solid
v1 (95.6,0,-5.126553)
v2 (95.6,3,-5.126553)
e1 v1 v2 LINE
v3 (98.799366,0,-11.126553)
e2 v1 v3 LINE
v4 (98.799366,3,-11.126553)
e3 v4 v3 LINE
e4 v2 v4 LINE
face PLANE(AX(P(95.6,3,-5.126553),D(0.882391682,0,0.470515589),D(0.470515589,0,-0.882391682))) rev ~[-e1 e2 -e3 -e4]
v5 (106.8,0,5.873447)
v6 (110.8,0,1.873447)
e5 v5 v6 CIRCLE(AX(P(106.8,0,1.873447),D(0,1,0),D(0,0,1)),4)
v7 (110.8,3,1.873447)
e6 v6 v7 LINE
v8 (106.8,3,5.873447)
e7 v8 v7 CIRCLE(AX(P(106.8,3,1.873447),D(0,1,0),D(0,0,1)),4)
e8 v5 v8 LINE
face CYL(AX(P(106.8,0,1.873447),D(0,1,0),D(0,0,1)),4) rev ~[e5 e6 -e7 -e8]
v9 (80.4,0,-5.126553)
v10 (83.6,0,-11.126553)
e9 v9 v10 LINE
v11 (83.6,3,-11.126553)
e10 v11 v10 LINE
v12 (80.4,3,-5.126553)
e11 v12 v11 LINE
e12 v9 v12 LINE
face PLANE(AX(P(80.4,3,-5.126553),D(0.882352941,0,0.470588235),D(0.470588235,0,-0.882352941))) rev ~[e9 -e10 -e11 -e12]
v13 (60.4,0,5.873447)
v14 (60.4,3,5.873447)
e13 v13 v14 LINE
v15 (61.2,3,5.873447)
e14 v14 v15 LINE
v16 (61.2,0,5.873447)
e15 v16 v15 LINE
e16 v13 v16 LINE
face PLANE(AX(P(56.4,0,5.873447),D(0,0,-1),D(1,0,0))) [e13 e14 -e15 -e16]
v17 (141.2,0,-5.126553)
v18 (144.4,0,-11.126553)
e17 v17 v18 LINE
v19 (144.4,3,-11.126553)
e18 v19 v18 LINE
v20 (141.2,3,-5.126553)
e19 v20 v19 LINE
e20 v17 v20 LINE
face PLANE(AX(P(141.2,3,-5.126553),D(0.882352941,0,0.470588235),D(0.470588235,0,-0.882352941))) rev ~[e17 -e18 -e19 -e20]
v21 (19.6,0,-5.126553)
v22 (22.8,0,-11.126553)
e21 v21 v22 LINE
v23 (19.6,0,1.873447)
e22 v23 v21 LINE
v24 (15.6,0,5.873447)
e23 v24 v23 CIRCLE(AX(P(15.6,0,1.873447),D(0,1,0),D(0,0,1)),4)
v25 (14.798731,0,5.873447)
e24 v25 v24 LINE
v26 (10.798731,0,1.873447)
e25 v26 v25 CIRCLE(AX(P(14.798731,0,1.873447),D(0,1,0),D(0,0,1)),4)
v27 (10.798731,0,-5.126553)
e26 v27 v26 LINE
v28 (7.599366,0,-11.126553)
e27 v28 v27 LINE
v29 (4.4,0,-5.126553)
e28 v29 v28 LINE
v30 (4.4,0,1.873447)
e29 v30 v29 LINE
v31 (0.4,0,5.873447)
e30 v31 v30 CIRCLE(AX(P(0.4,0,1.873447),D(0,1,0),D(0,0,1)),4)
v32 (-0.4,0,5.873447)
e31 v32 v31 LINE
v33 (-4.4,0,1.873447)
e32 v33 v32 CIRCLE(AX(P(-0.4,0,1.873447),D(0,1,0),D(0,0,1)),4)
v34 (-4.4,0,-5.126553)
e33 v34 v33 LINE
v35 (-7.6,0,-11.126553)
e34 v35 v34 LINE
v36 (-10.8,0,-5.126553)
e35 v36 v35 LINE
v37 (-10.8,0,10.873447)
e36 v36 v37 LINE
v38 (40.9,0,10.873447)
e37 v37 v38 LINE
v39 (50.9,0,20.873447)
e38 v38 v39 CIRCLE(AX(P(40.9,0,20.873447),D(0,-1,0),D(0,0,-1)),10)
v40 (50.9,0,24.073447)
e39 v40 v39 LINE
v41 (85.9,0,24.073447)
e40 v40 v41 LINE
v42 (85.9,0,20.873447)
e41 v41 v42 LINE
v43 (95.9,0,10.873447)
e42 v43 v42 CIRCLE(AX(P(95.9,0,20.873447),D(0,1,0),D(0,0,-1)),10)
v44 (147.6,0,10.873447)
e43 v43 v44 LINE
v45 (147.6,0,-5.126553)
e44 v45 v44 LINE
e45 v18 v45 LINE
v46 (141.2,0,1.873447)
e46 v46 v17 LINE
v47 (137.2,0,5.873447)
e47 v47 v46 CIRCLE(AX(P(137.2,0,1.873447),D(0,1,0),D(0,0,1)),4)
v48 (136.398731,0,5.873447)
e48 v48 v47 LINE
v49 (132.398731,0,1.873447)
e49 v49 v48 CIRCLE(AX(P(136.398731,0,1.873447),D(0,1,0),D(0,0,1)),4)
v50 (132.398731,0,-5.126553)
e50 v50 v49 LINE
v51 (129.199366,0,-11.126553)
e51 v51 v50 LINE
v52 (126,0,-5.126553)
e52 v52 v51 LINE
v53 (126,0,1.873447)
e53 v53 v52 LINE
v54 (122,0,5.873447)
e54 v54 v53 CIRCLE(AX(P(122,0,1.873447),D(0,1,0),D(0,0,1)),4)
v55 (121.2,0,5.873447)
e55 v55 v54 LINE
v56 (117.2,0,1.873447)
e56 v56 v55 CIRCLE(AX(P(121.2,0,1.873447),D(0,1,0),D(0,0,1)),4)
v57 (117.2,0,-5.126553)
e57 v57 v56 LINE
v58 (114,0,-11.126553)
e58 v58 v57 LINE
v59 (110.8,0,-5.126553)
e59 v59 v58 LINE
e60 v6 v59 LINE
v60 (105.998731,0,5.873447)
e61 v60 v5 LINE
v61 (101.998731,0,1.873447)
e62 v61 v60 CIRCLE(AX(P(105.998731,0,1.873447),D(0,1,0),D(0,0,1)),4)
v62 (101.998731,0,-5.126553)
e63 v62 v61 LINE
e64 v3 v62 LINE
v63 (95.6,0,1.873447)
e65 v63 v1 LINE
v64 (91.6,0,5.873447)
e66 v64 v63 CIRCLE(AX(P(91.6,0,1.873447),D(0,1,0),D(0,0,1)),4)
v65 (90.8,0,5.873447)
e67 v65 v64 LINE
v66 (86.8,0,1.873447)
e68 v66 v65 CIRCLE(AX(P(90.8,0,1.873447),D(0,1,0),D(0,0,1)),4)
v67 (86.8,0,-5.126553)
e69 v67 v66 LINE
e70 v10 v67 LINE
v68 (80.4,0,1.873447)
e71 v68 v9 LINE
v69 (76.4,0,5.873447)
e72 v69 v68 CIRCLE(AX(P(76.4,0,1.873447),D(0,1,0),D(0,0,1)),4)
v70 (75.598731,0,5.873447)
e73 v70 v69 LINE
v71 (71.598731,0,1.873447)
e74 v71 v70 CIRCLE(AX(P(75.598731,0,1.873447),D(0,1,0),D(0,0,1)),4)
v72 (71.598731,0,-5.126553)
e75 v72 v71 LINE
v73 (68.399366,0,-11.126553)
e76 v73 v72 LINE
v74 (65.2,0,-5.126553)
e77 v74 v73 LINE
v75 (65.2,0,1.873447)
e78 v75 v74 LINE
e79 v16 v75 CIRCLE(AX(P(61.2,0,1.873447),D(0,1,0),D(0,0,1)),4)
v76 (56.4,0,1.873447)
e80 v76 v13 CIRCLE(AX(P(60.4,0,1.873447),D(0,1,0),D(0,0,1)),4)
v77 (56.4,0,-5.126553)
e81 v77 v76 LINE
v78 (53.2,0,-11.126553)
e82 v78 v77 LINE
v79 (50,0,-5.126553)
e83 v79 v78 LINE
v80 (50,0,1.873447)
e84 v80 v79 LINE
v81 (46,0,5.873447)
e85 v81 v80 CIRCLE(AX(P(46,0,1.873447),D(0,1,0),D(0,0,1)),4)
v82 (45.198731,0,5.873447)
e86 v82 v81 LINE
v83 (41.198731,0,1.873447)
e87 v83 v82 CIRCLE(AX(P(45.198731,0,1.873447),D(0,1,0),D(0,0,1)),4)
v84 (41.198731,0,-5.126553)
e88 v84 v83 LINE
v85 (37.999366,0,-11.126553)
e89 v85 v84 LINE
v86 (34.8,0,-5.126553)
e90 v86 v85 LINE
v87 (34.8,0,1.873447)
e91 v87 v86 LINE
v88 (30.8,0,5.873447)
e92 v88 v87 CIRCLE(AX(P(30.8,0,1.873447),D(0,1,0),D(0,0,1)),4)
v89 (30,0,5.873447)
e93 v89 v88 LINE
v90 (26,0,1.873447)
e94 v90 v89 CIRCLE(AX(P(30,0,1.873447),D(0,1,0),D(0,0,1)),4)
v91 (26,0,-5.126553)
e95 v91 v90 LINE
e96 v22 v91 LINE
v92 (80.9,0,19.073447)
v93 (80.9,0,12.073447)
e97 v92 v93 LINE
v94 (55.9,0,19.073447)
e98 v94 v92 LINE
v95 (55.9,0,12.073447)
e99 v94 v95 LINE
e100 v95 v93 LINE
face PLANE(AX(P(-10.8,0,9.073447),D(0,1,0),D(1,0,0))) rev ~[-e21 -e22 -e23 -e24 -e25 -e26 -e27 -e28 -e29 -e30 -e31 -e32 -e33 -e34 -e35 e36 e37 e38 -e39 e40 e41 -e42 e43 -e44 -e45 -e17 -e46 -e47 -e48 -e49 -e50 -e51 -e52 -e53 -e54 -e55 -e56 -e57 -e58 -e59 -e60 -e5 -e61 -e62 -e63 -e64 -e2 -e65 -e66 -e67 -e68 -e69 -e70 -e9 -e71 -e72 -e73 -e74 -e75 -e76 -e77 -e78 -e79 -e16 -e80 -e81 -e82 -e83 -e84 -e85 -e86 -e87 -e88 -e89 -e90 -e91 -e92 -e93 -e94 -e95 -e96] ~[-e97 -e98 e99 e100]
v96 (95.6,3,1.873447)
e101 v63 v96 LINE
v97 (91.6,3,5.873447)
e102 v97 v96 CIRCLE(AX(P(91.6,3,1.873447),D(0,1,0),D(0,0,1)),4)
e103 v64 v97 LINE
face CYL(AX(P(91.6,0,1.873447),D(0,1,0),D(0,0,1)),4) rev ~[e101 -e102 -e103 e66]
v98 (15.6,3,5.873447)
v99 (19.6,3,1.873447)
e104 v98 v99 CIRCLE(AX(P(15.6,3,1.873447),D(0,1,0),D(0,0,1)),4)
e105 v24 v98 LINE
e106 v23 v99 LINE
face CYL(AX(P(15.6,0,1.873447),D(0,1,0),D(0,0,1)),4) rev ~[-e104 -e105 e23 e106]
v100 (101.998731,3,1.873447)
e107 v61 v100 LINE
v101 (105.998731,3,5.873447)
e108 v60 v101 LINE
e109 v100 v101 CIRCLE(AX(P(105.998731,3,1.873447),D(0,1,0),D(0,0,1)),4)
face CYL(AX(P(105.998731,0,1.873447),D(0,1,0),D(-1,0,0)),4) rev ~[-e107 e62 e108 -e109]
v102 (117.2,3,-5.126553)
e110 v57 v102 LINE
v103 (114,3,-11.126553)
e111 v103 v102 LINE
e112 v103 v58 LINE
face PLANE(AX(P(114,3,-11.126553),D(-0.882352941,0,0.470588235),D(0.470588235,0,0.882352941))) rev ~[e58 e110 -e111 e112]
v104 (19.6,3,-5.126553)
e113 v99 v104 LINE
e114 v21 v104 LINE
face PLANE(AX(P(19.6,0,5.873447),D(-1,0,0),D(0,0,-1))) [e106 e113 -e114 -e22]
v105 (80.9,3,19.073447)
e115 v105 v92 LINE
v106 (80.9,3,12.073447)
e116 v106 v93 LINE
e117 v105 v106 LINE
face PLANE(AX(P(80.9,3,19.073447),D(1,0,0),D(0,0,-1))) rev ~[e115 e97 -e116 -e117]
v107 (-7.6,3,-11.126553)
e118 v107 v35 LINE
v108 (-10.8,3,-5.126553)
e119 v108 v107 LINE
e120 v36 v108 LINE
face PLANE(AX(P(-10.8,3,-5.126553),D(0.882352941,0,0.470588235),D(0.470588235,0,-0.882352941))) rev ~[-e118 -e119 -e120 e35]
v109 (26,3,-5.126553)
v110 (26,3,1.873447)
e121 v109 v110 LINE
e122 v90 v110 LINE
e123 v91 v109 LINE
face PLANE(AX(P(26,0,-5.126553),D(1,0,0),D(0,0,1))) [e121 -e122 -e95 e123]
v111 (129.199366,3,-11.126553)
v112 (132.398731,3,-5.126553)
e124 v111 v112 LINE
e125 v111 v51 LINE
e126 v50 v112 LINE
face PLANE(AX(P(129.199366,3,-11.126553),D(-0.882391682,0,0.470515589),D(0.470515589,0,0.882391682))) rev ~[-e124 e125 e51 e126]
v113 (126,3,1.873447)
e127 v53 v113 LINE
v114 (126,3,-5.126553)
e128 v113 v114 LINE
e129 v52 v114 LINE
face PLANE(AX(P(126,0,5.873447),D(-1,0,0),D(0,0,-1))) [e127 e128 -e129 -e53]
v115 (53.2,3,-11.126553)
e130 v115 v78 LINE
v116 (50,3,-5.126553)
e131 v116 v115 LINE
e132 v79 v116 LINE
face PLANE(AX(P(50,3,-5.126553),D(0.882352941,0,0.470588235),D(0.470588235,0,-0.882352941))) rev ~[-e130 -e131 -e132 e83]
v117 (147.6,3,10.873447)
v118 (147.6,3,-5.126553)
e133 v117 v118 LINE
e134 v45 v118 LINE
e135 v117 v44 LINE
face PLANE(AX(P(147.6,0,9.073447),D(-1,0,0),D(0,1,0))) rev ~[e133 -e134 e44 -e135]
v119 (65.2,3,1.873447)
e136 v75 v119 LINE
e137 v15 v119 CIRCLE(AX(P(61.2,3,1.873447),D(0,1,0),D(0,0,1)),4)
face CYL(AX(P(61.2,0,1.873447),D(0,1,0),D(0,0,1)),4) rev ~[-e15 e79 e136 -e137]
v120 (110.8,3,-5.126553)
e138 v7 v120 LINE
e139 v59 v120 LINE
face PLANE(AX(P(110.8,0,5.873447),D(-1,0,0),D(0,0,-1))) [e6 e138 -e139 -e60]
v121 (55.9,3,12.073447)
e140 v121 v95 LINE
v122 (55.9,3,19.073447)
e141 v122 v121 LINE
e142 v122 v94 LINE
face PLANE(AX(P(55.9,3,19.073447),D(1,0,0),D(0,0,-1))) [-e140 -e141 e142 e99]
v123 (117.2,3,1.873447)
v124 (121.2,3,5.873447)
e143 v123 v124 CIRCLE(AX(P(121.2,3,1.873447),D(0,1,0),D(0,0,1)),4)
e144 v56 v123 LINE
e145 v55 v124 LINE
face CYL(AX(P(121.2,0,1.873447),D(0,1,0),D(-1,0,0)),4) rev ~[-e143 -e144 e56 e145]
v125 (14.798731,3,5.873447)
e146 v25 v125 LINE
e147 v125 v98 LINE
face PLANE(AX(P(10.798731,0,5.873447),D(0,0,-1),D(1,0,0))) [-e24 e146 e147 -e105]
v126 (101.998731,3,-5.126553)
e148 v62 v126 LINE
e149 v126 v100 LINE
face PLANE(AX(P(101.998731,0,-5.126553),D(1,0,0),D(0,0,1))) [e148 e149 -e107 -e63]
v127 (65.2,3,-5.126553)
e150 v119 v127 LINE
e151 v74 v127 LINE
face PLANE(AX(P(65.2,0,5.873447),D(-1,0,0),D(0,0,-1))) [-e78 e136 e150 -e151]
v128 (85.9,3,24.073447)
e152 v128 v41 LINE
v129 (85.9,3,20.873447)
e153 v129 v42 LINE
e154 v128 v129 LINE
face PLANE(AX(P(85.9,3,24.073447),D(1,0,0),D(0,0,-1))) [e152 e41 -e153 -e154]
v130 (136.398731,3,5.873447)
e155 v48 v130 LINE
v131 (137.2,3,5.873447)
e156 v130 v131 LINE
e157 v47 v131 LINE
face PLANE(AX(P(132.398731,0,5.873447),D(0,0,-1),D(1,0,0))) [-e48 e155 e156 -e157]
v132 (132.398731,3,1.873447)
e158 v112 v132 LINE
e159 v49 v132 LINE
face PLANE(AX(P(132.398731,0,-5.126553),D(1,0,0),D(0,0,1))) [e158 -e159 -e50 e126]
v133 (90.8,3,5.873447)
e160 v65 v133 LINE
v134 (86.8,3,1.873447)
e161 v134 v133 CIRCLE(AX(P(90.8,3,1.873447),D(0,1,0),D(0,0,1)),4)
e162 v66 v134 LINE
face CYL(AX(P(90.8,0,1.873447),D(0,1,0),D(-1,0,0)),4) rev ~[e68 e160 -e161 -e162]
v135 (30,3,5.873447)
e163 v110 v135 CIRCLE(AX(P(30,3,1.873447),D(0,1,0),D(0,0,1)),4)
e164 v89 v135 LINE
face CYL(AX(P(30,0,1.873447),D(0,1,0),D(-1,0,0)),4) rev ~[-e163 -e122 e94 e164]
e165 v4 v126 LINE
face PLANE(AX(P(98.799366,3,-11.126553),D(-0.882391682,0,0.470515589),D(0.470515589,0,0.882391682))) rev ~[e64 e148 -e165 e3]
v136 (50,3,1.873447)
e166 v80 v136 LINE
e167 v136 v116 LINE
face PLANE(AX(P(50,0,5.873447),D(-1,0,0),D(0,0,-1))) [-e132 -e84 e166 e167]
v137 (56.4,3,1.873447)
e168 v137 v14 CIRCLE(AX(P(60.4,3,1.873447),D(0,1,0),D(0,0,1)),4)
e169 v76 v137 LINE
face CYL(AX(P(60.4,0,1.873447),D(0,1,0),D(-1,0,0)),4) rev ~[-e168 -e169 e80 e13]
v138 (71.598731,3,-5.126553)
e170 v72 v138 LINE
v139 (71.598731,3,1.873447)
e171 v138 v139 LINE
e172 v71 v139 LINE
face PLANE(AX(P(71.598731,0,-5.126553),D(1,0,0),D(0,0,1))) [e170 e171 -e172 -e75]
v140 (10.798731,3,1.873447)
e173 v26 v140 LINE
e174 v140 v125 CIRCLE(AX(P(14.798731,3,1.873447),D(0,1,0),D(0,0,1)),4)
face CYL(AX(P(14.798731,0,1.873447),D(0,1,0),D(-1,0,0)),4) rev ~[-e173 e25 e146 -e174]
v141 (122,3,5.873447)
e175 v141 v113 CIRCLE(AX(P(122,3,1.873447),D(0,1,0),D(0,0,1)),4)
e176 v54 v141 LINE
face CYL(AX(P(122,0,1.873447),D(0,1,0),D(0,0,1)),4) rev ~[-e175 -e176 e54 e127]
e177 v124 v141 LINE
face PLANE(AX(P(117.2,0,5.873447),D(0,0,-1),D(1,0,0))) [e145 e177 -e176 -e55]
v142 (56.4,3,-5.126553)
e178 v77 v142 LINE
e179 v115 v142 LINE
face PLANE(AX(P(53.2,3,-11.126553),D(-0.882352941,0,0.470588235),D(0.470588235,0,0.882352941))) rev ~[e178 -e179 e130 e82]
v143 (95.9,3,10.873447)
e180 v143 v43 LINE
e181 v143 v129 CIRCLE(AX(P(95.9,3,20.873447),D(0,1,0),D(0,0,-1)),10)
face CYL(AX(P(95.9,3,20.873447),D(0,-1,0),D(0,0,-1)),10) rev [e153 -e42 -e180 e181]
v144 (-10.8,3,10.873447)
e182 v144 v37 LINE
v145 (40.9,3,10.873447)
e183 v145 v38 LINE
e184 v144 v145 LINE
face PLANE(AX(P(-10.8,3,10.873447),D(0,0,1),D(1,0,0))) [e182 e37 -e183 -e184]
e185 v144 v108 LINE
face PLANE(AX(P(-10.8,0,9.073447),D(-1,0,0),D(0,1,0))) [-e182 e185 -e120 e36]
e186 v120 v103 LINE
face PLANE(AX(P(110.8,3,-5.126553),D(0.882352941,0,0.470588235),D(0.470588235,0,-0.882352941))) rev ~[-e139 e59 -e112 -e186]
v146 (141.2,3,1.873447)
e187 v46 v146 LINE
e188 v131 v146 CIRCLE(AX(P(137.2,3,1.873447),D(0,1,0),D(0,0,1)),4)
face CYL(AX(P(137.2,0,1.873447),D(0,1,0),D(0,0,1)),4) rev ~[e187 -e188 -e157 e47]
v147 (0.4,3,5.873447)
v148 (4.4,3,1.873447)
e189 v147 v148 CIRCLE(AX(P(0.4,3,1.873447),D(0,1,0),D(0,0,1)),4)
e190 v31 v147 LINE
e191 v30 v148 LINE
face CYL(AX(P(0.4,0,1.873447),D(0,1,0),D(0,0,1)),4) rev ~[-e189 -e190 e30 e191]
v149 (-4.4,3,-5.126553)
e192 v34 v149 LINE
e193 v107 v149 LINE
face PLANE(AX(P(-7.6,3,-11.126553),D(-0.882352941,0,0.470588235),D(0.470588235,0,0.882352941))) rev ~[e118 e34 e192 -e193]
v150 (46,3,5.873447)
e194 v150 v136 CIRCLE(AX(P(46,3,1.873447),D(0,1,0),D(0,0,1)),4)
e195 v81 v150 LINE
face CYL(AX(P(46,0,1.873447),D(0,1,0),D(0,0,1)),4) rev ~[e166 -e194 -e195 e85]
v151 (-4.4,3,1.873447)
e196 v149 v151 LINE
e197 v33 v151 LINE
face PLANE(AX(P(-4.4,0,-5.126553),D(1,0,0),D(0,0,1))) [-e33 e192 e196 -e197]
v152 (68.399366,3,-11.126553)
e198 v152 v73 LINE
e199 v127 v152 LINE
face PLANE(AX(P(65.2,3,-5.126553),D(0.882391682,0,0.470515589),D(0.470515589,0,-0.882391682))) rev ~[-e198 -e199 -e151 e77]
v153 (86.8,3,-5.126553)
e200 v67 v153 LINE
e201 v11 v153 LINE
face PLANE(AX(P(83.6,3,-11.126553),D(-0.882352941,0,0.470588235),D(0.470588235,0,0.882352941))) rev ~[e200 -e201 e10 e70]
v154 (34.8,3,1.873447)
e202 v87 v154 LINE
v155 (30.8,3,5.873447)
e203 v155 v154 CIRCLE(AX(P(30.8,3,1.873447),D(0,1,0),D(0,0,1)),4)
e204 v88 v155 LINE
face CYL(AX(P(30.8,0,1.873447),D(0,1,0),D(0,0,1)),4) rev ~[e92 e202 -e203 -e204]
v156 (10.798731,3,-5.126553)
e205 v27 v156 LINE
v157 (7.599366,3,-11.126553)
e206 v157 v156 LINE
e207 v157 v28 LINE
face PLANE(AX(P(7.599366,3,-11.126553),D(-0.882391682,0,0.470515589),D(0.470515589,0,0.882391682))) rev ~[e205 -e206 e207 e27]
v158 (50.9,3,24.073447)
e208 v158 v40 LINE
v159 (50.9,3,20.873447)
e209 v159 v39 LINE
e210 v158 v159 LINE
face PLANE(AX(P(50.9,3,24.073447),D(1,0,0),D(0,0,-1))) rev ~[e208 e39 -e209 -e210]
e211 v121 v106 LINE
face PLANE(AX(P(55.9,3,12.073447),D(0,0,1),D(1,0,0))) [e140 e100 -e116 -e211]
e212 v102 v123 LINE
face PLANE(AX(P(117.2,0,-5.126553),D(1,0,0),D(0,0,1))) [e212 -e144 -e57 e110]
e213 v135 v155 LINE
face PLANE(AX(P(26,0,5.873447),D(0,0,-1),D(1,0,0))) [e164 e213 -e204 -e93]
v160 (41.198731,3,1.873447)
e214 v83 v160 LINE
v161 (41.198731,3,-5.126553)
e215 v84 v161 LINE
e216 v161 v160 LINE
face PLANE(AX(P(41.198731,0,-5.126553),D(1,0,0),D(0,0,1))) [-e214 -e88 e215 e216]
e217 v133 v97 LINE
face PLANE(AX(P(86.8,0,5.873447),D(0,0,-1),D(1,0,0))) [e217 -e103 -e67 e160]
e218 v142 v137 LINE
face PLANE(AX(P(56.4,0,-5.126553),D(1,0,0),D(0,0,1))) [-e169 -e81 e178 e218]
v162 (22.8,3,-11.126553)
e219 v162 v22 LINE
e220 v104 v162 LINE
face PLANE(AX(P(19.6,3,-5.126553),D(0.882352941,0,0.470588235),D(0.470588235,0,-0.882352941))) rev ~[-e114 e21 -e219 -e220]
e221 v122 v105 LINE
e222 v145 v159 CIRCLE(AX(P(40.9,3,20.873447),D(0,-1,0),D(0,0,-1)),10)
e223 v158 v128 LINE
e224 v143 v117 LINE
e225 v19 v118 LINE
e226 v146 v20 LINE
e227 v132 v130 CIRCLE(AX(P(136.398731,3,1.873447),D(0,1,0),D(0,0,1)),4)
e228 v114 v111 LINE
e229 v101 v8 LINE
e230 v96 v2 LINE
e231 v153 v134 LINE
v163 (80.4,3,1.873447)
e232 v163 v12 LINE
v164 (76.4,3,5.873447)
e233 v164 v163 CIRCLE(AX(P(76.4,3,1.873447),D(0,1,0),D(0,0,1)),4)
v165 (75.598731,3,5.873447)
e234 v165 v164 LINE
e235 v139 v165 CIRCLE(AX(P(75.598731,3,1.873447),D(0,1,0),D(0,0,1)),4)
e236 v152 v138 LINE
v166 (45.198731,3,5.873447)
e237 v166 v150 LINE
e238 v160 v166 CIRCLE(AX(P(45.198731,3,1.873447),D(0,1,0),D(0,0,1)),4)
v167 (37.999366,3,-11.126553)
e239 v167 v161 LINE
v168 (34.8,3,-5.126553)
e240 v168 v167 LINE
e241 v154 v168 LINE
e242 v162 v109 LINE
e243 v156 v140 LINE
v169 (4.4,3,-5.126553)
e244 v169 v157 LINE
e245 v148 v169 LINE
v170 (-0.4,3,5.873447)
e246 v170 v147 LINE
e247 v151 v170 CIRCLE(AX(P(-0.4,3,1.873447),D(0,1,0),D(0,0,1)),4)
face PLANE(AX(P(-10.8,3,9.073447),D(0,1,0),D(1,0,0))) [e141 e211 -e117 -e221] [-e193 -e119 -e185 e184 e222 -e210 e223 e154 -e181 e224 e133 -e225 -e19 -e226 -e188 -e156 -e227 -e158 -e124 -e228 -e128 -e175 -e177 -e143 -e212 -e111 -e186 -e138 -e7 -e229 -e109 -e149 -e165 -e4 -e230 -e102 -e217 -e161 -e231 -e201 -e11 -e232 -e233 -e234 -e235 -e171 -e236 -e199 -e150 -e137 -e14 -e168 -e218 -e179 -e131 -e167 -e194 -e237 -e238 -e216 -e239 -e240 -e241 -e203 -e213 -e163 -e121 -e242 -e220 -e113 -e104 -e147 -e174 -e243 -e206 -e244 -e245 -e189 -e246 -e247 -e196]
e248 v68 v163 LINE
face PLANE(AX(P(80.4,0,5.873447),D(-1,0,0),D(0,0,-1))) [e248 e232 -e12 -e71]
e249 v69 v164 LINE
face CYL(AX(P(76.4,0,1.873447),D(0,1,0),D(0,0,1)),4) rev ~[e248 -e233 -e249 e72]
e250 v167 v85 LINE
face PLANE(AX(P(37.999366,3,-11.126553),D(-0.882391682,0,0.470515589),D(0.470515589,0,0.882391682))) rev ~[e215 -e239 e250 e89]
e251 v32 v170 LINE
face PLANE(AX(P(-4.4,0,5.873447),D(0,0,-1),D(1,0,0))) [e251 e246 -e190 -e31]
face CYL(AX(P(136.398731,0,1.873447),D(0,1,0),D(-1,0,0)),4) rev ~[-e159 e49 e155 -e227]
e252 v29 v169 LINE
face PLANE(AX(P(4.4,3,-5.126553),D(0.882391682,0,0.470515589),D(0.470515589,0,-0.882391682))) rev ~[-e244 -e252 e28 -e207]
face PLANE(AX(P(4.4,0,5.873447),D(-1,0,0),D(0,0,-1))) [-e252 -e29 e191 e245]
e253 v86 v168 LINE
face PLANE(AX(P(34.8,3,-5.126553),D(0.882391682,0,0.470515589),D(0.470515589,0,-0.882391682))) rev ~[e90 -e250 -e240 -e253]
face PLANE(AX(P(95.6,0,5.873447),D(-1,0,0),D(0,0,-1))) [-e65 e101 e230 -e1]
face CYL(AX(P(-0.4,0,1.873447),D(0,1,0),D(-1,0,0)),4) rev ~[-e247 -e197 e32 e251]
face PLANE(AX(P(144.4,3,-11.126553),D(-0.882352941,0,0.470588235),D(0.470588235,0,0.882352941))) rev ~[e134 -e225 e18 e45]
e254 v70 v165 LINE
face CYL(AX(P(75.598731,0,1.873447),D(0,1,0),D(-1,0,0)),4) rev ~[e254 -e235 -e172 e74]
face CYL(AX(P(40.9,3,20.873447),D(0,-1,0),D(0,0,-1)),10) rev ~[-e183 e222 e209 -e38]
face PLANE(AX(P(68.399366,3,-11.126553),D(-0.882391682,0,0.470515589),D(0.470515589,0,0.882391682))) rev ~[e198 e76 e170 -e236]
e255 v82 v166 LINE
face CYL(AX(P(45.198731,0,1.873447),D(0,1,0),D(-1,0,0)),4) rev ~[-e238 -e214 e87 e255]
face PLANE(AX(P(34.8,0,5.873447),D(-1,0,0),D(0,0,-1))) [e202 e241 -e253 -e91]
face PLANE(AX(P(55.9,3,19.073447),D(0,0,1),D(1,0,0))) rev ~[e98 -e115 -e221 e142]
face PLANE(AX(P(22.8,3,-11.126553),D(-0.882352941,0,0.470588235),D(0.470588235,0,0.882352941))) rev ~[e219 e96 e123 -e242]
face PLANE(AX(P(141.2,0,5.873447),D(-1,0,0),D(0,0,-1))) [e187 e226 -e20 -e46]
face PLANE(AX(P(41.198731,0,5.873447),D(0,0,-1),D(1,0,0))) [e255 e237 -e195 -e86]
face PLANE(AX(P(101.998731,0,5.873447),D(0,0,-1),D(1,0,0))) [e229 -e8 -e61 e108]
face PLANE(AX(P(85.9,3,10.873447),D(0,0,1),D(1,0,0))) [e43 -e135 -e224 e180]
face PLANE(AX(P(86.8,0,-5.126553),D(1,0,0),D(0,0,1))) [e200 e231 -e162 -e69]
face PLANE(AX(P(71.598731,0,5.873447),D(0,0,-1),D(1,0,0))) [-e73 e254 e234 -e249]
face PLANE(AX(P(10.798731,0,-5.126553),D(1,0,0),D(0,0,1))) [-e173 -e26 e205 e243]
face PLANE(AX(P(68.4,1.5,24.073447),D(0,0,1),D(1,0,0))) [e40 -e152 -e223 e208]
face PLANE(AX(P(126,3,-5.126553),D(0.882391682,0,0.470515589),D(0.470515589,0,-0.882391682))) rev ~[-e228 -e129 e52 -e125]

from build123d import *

# Parameters (mm, degrees)
BOSS_EXTRUDE1_DEPTH = 3
BOSS_EXTRUDE2_DEPTH = 3
FILLET1_R           = 4
LPATTERN1_COUNT     = 5
LPATTERN1_PITCH     = 30.4
SKETCH5_W           = 158.4
SKETCH5_H           = 3
BOSS_EXTRUDE3_DEPTH = 15
SKETCH6_W           = 25
SKETCH6_H           = 7
CUT_EXTRUDE1_DEPTH  = 60
SKETCH7_W           = 61.7
SKETCH7_H           = 13.2
CUT_EXTRUDE2_DEPTH  = 10
FILLET2_R           = 10


with BuildPart() as part:
    # Sketch1 → Boss-Extrude1 (new body)
    with BuildSketch(Plane(origin=(0, 0, 0), x_dir=(1, 0, 0), z_dir=(0, 1, 0))):
        Polygon((26, -9.073446812), (-10.8, -9.073446812), (-10.8, -5.873446812), (-10.8, 5.126553188), (-4.4, 5.126553188), (-4.4, -5.873446812), (4.4, -5.873446812), (4.4, 5.126553188), (10.798731059, 5.126553188), (10.798731059, -5.873446812), (19.6, -5.873446812), (19.6, 5.126553188), (26, 5.126553188), align=None)
    extrude(amount=BOSS_EXTRUDE1_DEPTH)

    # Sketch2 → Boss-Extrude2 (add)
    with BuildSketch(Plane(origin=(0, 3, 0), x_dir=(1, 0, 0), z_dir=(0, 1, 0))):
        Polygon((-10.8, 5.126553188), (-7.6, 11.126553188), (-4.4, 5.126553188), align=None)
        Polygon((4.4, 5.126553188), (7.59936553, 11.126553188), (10.798731059, 5.126553188), align=None)
        Polygon((19.6, 5.126553188), (22.8, 11.126553188), (26, 5.126553188), align=None)
    extrude(amount=-BOSS_EXTRUDE2_DEPTH)

    # Fillet1
    fillet1_edges = [part.edges().sort_by_distance(p)[0] for p in [
        (-4.4, 1.5, 5.873446812),
        (4.4, 1.5, 5.873446812),
        (10.798731059, 1.5, 5.873446812),
        (19.6, 1.5, 5.873446812),
    ]]
    fillet(fillet1_edges, radius=FILLET1_R)


with BuildPart() as lpattern1_1:
    # LPattern1: pattern copy
    add(part.part.moved(Location(Vector(1, 0, 0) * (1 * LPATTERN1_PITCH))))


with BuildPart() as lpattern1_2:
    # LPattern1: pattern copy
    add(part.part.moved(Location(Vector(1, 0, 0) * (2 * LPATTERN1_PITCH))))


with BuildPart() as lpattern1_3:
    # LPattern1: pattern copy
    add(part.part.moved(Location(Vector(1, 0, 0) * (3 * LPATTERN1_PITCH))))


with BuildPart() as lpattern1_4:
    # LPattern1: pattern copy
    add(part.part.moved(Location(Vector(1, 0, 0) * (4 * LPATTERN1_PITCH))))


with BuildPart() as part_1:
    add(part.part)

    # Combine1: union LPattern1_1, LPattern1_2, LPattern1_3, LPattern1_4
    add(lpattern1_1.part)
    add(lpattern1_2.part)
    add(lpattern1_3.part)
    add(lpattern1_4.part)

    # Sketch5 → Boss-Extrude3 (add)
    with BuildSketch(Plane.XY.offset(9.073446812)):
        with Locations((68.4, 1.5)):
            Rectangle(SKETCH5_W, SKETCH5_H)
    extrude(amount=BOSS_EXTRUDE3_DEPTH)

    # Sketch6 → Cut-Extrude1 (cut)
    with BuildSketch(Plane(origin=(0, 3, 0), x_dir=(1, 0, 0), z_dir=(0, 1, 0))):
        with Locations((68.4, -15.573446812)):
            Rectangle(SKETCH6_W, SKETCH6_H)
    extrude(amount=-CUT_EXTRUDE1_DEPTH, mode=Mode.SUBTRACT)

    # Sketch7 → Cut-Extrude2 (cut)
    with BuildSketch(Plane(origin=(0, 3, 0), x_dir=(1, 0, 0), z_dir=(0, 1, 0))):
        with Locations((20.05, -17.473446812)):
            Rectangle(SKETCH7_W, SKETCH7_H)
        with Locations((116.75, -17.473446812)):
            Rectangle(SKETCH7_W, SKETCH7_H)
    extrude(amount=-CUT_EXTRUDE2_DEPTH, mode=Mode.SUBTRACT)

    # Fillet2
    fillet2_edges = [part_1.edges().sort_by_distance(p)[0] for p in [
        (50.9, 1.5, 10.873446812),
        (85.9, 1.5, 10.873446812),
    ]]
    fillet(fillet2_edges, radius=FILLET2_R)


solid = part_1.part
